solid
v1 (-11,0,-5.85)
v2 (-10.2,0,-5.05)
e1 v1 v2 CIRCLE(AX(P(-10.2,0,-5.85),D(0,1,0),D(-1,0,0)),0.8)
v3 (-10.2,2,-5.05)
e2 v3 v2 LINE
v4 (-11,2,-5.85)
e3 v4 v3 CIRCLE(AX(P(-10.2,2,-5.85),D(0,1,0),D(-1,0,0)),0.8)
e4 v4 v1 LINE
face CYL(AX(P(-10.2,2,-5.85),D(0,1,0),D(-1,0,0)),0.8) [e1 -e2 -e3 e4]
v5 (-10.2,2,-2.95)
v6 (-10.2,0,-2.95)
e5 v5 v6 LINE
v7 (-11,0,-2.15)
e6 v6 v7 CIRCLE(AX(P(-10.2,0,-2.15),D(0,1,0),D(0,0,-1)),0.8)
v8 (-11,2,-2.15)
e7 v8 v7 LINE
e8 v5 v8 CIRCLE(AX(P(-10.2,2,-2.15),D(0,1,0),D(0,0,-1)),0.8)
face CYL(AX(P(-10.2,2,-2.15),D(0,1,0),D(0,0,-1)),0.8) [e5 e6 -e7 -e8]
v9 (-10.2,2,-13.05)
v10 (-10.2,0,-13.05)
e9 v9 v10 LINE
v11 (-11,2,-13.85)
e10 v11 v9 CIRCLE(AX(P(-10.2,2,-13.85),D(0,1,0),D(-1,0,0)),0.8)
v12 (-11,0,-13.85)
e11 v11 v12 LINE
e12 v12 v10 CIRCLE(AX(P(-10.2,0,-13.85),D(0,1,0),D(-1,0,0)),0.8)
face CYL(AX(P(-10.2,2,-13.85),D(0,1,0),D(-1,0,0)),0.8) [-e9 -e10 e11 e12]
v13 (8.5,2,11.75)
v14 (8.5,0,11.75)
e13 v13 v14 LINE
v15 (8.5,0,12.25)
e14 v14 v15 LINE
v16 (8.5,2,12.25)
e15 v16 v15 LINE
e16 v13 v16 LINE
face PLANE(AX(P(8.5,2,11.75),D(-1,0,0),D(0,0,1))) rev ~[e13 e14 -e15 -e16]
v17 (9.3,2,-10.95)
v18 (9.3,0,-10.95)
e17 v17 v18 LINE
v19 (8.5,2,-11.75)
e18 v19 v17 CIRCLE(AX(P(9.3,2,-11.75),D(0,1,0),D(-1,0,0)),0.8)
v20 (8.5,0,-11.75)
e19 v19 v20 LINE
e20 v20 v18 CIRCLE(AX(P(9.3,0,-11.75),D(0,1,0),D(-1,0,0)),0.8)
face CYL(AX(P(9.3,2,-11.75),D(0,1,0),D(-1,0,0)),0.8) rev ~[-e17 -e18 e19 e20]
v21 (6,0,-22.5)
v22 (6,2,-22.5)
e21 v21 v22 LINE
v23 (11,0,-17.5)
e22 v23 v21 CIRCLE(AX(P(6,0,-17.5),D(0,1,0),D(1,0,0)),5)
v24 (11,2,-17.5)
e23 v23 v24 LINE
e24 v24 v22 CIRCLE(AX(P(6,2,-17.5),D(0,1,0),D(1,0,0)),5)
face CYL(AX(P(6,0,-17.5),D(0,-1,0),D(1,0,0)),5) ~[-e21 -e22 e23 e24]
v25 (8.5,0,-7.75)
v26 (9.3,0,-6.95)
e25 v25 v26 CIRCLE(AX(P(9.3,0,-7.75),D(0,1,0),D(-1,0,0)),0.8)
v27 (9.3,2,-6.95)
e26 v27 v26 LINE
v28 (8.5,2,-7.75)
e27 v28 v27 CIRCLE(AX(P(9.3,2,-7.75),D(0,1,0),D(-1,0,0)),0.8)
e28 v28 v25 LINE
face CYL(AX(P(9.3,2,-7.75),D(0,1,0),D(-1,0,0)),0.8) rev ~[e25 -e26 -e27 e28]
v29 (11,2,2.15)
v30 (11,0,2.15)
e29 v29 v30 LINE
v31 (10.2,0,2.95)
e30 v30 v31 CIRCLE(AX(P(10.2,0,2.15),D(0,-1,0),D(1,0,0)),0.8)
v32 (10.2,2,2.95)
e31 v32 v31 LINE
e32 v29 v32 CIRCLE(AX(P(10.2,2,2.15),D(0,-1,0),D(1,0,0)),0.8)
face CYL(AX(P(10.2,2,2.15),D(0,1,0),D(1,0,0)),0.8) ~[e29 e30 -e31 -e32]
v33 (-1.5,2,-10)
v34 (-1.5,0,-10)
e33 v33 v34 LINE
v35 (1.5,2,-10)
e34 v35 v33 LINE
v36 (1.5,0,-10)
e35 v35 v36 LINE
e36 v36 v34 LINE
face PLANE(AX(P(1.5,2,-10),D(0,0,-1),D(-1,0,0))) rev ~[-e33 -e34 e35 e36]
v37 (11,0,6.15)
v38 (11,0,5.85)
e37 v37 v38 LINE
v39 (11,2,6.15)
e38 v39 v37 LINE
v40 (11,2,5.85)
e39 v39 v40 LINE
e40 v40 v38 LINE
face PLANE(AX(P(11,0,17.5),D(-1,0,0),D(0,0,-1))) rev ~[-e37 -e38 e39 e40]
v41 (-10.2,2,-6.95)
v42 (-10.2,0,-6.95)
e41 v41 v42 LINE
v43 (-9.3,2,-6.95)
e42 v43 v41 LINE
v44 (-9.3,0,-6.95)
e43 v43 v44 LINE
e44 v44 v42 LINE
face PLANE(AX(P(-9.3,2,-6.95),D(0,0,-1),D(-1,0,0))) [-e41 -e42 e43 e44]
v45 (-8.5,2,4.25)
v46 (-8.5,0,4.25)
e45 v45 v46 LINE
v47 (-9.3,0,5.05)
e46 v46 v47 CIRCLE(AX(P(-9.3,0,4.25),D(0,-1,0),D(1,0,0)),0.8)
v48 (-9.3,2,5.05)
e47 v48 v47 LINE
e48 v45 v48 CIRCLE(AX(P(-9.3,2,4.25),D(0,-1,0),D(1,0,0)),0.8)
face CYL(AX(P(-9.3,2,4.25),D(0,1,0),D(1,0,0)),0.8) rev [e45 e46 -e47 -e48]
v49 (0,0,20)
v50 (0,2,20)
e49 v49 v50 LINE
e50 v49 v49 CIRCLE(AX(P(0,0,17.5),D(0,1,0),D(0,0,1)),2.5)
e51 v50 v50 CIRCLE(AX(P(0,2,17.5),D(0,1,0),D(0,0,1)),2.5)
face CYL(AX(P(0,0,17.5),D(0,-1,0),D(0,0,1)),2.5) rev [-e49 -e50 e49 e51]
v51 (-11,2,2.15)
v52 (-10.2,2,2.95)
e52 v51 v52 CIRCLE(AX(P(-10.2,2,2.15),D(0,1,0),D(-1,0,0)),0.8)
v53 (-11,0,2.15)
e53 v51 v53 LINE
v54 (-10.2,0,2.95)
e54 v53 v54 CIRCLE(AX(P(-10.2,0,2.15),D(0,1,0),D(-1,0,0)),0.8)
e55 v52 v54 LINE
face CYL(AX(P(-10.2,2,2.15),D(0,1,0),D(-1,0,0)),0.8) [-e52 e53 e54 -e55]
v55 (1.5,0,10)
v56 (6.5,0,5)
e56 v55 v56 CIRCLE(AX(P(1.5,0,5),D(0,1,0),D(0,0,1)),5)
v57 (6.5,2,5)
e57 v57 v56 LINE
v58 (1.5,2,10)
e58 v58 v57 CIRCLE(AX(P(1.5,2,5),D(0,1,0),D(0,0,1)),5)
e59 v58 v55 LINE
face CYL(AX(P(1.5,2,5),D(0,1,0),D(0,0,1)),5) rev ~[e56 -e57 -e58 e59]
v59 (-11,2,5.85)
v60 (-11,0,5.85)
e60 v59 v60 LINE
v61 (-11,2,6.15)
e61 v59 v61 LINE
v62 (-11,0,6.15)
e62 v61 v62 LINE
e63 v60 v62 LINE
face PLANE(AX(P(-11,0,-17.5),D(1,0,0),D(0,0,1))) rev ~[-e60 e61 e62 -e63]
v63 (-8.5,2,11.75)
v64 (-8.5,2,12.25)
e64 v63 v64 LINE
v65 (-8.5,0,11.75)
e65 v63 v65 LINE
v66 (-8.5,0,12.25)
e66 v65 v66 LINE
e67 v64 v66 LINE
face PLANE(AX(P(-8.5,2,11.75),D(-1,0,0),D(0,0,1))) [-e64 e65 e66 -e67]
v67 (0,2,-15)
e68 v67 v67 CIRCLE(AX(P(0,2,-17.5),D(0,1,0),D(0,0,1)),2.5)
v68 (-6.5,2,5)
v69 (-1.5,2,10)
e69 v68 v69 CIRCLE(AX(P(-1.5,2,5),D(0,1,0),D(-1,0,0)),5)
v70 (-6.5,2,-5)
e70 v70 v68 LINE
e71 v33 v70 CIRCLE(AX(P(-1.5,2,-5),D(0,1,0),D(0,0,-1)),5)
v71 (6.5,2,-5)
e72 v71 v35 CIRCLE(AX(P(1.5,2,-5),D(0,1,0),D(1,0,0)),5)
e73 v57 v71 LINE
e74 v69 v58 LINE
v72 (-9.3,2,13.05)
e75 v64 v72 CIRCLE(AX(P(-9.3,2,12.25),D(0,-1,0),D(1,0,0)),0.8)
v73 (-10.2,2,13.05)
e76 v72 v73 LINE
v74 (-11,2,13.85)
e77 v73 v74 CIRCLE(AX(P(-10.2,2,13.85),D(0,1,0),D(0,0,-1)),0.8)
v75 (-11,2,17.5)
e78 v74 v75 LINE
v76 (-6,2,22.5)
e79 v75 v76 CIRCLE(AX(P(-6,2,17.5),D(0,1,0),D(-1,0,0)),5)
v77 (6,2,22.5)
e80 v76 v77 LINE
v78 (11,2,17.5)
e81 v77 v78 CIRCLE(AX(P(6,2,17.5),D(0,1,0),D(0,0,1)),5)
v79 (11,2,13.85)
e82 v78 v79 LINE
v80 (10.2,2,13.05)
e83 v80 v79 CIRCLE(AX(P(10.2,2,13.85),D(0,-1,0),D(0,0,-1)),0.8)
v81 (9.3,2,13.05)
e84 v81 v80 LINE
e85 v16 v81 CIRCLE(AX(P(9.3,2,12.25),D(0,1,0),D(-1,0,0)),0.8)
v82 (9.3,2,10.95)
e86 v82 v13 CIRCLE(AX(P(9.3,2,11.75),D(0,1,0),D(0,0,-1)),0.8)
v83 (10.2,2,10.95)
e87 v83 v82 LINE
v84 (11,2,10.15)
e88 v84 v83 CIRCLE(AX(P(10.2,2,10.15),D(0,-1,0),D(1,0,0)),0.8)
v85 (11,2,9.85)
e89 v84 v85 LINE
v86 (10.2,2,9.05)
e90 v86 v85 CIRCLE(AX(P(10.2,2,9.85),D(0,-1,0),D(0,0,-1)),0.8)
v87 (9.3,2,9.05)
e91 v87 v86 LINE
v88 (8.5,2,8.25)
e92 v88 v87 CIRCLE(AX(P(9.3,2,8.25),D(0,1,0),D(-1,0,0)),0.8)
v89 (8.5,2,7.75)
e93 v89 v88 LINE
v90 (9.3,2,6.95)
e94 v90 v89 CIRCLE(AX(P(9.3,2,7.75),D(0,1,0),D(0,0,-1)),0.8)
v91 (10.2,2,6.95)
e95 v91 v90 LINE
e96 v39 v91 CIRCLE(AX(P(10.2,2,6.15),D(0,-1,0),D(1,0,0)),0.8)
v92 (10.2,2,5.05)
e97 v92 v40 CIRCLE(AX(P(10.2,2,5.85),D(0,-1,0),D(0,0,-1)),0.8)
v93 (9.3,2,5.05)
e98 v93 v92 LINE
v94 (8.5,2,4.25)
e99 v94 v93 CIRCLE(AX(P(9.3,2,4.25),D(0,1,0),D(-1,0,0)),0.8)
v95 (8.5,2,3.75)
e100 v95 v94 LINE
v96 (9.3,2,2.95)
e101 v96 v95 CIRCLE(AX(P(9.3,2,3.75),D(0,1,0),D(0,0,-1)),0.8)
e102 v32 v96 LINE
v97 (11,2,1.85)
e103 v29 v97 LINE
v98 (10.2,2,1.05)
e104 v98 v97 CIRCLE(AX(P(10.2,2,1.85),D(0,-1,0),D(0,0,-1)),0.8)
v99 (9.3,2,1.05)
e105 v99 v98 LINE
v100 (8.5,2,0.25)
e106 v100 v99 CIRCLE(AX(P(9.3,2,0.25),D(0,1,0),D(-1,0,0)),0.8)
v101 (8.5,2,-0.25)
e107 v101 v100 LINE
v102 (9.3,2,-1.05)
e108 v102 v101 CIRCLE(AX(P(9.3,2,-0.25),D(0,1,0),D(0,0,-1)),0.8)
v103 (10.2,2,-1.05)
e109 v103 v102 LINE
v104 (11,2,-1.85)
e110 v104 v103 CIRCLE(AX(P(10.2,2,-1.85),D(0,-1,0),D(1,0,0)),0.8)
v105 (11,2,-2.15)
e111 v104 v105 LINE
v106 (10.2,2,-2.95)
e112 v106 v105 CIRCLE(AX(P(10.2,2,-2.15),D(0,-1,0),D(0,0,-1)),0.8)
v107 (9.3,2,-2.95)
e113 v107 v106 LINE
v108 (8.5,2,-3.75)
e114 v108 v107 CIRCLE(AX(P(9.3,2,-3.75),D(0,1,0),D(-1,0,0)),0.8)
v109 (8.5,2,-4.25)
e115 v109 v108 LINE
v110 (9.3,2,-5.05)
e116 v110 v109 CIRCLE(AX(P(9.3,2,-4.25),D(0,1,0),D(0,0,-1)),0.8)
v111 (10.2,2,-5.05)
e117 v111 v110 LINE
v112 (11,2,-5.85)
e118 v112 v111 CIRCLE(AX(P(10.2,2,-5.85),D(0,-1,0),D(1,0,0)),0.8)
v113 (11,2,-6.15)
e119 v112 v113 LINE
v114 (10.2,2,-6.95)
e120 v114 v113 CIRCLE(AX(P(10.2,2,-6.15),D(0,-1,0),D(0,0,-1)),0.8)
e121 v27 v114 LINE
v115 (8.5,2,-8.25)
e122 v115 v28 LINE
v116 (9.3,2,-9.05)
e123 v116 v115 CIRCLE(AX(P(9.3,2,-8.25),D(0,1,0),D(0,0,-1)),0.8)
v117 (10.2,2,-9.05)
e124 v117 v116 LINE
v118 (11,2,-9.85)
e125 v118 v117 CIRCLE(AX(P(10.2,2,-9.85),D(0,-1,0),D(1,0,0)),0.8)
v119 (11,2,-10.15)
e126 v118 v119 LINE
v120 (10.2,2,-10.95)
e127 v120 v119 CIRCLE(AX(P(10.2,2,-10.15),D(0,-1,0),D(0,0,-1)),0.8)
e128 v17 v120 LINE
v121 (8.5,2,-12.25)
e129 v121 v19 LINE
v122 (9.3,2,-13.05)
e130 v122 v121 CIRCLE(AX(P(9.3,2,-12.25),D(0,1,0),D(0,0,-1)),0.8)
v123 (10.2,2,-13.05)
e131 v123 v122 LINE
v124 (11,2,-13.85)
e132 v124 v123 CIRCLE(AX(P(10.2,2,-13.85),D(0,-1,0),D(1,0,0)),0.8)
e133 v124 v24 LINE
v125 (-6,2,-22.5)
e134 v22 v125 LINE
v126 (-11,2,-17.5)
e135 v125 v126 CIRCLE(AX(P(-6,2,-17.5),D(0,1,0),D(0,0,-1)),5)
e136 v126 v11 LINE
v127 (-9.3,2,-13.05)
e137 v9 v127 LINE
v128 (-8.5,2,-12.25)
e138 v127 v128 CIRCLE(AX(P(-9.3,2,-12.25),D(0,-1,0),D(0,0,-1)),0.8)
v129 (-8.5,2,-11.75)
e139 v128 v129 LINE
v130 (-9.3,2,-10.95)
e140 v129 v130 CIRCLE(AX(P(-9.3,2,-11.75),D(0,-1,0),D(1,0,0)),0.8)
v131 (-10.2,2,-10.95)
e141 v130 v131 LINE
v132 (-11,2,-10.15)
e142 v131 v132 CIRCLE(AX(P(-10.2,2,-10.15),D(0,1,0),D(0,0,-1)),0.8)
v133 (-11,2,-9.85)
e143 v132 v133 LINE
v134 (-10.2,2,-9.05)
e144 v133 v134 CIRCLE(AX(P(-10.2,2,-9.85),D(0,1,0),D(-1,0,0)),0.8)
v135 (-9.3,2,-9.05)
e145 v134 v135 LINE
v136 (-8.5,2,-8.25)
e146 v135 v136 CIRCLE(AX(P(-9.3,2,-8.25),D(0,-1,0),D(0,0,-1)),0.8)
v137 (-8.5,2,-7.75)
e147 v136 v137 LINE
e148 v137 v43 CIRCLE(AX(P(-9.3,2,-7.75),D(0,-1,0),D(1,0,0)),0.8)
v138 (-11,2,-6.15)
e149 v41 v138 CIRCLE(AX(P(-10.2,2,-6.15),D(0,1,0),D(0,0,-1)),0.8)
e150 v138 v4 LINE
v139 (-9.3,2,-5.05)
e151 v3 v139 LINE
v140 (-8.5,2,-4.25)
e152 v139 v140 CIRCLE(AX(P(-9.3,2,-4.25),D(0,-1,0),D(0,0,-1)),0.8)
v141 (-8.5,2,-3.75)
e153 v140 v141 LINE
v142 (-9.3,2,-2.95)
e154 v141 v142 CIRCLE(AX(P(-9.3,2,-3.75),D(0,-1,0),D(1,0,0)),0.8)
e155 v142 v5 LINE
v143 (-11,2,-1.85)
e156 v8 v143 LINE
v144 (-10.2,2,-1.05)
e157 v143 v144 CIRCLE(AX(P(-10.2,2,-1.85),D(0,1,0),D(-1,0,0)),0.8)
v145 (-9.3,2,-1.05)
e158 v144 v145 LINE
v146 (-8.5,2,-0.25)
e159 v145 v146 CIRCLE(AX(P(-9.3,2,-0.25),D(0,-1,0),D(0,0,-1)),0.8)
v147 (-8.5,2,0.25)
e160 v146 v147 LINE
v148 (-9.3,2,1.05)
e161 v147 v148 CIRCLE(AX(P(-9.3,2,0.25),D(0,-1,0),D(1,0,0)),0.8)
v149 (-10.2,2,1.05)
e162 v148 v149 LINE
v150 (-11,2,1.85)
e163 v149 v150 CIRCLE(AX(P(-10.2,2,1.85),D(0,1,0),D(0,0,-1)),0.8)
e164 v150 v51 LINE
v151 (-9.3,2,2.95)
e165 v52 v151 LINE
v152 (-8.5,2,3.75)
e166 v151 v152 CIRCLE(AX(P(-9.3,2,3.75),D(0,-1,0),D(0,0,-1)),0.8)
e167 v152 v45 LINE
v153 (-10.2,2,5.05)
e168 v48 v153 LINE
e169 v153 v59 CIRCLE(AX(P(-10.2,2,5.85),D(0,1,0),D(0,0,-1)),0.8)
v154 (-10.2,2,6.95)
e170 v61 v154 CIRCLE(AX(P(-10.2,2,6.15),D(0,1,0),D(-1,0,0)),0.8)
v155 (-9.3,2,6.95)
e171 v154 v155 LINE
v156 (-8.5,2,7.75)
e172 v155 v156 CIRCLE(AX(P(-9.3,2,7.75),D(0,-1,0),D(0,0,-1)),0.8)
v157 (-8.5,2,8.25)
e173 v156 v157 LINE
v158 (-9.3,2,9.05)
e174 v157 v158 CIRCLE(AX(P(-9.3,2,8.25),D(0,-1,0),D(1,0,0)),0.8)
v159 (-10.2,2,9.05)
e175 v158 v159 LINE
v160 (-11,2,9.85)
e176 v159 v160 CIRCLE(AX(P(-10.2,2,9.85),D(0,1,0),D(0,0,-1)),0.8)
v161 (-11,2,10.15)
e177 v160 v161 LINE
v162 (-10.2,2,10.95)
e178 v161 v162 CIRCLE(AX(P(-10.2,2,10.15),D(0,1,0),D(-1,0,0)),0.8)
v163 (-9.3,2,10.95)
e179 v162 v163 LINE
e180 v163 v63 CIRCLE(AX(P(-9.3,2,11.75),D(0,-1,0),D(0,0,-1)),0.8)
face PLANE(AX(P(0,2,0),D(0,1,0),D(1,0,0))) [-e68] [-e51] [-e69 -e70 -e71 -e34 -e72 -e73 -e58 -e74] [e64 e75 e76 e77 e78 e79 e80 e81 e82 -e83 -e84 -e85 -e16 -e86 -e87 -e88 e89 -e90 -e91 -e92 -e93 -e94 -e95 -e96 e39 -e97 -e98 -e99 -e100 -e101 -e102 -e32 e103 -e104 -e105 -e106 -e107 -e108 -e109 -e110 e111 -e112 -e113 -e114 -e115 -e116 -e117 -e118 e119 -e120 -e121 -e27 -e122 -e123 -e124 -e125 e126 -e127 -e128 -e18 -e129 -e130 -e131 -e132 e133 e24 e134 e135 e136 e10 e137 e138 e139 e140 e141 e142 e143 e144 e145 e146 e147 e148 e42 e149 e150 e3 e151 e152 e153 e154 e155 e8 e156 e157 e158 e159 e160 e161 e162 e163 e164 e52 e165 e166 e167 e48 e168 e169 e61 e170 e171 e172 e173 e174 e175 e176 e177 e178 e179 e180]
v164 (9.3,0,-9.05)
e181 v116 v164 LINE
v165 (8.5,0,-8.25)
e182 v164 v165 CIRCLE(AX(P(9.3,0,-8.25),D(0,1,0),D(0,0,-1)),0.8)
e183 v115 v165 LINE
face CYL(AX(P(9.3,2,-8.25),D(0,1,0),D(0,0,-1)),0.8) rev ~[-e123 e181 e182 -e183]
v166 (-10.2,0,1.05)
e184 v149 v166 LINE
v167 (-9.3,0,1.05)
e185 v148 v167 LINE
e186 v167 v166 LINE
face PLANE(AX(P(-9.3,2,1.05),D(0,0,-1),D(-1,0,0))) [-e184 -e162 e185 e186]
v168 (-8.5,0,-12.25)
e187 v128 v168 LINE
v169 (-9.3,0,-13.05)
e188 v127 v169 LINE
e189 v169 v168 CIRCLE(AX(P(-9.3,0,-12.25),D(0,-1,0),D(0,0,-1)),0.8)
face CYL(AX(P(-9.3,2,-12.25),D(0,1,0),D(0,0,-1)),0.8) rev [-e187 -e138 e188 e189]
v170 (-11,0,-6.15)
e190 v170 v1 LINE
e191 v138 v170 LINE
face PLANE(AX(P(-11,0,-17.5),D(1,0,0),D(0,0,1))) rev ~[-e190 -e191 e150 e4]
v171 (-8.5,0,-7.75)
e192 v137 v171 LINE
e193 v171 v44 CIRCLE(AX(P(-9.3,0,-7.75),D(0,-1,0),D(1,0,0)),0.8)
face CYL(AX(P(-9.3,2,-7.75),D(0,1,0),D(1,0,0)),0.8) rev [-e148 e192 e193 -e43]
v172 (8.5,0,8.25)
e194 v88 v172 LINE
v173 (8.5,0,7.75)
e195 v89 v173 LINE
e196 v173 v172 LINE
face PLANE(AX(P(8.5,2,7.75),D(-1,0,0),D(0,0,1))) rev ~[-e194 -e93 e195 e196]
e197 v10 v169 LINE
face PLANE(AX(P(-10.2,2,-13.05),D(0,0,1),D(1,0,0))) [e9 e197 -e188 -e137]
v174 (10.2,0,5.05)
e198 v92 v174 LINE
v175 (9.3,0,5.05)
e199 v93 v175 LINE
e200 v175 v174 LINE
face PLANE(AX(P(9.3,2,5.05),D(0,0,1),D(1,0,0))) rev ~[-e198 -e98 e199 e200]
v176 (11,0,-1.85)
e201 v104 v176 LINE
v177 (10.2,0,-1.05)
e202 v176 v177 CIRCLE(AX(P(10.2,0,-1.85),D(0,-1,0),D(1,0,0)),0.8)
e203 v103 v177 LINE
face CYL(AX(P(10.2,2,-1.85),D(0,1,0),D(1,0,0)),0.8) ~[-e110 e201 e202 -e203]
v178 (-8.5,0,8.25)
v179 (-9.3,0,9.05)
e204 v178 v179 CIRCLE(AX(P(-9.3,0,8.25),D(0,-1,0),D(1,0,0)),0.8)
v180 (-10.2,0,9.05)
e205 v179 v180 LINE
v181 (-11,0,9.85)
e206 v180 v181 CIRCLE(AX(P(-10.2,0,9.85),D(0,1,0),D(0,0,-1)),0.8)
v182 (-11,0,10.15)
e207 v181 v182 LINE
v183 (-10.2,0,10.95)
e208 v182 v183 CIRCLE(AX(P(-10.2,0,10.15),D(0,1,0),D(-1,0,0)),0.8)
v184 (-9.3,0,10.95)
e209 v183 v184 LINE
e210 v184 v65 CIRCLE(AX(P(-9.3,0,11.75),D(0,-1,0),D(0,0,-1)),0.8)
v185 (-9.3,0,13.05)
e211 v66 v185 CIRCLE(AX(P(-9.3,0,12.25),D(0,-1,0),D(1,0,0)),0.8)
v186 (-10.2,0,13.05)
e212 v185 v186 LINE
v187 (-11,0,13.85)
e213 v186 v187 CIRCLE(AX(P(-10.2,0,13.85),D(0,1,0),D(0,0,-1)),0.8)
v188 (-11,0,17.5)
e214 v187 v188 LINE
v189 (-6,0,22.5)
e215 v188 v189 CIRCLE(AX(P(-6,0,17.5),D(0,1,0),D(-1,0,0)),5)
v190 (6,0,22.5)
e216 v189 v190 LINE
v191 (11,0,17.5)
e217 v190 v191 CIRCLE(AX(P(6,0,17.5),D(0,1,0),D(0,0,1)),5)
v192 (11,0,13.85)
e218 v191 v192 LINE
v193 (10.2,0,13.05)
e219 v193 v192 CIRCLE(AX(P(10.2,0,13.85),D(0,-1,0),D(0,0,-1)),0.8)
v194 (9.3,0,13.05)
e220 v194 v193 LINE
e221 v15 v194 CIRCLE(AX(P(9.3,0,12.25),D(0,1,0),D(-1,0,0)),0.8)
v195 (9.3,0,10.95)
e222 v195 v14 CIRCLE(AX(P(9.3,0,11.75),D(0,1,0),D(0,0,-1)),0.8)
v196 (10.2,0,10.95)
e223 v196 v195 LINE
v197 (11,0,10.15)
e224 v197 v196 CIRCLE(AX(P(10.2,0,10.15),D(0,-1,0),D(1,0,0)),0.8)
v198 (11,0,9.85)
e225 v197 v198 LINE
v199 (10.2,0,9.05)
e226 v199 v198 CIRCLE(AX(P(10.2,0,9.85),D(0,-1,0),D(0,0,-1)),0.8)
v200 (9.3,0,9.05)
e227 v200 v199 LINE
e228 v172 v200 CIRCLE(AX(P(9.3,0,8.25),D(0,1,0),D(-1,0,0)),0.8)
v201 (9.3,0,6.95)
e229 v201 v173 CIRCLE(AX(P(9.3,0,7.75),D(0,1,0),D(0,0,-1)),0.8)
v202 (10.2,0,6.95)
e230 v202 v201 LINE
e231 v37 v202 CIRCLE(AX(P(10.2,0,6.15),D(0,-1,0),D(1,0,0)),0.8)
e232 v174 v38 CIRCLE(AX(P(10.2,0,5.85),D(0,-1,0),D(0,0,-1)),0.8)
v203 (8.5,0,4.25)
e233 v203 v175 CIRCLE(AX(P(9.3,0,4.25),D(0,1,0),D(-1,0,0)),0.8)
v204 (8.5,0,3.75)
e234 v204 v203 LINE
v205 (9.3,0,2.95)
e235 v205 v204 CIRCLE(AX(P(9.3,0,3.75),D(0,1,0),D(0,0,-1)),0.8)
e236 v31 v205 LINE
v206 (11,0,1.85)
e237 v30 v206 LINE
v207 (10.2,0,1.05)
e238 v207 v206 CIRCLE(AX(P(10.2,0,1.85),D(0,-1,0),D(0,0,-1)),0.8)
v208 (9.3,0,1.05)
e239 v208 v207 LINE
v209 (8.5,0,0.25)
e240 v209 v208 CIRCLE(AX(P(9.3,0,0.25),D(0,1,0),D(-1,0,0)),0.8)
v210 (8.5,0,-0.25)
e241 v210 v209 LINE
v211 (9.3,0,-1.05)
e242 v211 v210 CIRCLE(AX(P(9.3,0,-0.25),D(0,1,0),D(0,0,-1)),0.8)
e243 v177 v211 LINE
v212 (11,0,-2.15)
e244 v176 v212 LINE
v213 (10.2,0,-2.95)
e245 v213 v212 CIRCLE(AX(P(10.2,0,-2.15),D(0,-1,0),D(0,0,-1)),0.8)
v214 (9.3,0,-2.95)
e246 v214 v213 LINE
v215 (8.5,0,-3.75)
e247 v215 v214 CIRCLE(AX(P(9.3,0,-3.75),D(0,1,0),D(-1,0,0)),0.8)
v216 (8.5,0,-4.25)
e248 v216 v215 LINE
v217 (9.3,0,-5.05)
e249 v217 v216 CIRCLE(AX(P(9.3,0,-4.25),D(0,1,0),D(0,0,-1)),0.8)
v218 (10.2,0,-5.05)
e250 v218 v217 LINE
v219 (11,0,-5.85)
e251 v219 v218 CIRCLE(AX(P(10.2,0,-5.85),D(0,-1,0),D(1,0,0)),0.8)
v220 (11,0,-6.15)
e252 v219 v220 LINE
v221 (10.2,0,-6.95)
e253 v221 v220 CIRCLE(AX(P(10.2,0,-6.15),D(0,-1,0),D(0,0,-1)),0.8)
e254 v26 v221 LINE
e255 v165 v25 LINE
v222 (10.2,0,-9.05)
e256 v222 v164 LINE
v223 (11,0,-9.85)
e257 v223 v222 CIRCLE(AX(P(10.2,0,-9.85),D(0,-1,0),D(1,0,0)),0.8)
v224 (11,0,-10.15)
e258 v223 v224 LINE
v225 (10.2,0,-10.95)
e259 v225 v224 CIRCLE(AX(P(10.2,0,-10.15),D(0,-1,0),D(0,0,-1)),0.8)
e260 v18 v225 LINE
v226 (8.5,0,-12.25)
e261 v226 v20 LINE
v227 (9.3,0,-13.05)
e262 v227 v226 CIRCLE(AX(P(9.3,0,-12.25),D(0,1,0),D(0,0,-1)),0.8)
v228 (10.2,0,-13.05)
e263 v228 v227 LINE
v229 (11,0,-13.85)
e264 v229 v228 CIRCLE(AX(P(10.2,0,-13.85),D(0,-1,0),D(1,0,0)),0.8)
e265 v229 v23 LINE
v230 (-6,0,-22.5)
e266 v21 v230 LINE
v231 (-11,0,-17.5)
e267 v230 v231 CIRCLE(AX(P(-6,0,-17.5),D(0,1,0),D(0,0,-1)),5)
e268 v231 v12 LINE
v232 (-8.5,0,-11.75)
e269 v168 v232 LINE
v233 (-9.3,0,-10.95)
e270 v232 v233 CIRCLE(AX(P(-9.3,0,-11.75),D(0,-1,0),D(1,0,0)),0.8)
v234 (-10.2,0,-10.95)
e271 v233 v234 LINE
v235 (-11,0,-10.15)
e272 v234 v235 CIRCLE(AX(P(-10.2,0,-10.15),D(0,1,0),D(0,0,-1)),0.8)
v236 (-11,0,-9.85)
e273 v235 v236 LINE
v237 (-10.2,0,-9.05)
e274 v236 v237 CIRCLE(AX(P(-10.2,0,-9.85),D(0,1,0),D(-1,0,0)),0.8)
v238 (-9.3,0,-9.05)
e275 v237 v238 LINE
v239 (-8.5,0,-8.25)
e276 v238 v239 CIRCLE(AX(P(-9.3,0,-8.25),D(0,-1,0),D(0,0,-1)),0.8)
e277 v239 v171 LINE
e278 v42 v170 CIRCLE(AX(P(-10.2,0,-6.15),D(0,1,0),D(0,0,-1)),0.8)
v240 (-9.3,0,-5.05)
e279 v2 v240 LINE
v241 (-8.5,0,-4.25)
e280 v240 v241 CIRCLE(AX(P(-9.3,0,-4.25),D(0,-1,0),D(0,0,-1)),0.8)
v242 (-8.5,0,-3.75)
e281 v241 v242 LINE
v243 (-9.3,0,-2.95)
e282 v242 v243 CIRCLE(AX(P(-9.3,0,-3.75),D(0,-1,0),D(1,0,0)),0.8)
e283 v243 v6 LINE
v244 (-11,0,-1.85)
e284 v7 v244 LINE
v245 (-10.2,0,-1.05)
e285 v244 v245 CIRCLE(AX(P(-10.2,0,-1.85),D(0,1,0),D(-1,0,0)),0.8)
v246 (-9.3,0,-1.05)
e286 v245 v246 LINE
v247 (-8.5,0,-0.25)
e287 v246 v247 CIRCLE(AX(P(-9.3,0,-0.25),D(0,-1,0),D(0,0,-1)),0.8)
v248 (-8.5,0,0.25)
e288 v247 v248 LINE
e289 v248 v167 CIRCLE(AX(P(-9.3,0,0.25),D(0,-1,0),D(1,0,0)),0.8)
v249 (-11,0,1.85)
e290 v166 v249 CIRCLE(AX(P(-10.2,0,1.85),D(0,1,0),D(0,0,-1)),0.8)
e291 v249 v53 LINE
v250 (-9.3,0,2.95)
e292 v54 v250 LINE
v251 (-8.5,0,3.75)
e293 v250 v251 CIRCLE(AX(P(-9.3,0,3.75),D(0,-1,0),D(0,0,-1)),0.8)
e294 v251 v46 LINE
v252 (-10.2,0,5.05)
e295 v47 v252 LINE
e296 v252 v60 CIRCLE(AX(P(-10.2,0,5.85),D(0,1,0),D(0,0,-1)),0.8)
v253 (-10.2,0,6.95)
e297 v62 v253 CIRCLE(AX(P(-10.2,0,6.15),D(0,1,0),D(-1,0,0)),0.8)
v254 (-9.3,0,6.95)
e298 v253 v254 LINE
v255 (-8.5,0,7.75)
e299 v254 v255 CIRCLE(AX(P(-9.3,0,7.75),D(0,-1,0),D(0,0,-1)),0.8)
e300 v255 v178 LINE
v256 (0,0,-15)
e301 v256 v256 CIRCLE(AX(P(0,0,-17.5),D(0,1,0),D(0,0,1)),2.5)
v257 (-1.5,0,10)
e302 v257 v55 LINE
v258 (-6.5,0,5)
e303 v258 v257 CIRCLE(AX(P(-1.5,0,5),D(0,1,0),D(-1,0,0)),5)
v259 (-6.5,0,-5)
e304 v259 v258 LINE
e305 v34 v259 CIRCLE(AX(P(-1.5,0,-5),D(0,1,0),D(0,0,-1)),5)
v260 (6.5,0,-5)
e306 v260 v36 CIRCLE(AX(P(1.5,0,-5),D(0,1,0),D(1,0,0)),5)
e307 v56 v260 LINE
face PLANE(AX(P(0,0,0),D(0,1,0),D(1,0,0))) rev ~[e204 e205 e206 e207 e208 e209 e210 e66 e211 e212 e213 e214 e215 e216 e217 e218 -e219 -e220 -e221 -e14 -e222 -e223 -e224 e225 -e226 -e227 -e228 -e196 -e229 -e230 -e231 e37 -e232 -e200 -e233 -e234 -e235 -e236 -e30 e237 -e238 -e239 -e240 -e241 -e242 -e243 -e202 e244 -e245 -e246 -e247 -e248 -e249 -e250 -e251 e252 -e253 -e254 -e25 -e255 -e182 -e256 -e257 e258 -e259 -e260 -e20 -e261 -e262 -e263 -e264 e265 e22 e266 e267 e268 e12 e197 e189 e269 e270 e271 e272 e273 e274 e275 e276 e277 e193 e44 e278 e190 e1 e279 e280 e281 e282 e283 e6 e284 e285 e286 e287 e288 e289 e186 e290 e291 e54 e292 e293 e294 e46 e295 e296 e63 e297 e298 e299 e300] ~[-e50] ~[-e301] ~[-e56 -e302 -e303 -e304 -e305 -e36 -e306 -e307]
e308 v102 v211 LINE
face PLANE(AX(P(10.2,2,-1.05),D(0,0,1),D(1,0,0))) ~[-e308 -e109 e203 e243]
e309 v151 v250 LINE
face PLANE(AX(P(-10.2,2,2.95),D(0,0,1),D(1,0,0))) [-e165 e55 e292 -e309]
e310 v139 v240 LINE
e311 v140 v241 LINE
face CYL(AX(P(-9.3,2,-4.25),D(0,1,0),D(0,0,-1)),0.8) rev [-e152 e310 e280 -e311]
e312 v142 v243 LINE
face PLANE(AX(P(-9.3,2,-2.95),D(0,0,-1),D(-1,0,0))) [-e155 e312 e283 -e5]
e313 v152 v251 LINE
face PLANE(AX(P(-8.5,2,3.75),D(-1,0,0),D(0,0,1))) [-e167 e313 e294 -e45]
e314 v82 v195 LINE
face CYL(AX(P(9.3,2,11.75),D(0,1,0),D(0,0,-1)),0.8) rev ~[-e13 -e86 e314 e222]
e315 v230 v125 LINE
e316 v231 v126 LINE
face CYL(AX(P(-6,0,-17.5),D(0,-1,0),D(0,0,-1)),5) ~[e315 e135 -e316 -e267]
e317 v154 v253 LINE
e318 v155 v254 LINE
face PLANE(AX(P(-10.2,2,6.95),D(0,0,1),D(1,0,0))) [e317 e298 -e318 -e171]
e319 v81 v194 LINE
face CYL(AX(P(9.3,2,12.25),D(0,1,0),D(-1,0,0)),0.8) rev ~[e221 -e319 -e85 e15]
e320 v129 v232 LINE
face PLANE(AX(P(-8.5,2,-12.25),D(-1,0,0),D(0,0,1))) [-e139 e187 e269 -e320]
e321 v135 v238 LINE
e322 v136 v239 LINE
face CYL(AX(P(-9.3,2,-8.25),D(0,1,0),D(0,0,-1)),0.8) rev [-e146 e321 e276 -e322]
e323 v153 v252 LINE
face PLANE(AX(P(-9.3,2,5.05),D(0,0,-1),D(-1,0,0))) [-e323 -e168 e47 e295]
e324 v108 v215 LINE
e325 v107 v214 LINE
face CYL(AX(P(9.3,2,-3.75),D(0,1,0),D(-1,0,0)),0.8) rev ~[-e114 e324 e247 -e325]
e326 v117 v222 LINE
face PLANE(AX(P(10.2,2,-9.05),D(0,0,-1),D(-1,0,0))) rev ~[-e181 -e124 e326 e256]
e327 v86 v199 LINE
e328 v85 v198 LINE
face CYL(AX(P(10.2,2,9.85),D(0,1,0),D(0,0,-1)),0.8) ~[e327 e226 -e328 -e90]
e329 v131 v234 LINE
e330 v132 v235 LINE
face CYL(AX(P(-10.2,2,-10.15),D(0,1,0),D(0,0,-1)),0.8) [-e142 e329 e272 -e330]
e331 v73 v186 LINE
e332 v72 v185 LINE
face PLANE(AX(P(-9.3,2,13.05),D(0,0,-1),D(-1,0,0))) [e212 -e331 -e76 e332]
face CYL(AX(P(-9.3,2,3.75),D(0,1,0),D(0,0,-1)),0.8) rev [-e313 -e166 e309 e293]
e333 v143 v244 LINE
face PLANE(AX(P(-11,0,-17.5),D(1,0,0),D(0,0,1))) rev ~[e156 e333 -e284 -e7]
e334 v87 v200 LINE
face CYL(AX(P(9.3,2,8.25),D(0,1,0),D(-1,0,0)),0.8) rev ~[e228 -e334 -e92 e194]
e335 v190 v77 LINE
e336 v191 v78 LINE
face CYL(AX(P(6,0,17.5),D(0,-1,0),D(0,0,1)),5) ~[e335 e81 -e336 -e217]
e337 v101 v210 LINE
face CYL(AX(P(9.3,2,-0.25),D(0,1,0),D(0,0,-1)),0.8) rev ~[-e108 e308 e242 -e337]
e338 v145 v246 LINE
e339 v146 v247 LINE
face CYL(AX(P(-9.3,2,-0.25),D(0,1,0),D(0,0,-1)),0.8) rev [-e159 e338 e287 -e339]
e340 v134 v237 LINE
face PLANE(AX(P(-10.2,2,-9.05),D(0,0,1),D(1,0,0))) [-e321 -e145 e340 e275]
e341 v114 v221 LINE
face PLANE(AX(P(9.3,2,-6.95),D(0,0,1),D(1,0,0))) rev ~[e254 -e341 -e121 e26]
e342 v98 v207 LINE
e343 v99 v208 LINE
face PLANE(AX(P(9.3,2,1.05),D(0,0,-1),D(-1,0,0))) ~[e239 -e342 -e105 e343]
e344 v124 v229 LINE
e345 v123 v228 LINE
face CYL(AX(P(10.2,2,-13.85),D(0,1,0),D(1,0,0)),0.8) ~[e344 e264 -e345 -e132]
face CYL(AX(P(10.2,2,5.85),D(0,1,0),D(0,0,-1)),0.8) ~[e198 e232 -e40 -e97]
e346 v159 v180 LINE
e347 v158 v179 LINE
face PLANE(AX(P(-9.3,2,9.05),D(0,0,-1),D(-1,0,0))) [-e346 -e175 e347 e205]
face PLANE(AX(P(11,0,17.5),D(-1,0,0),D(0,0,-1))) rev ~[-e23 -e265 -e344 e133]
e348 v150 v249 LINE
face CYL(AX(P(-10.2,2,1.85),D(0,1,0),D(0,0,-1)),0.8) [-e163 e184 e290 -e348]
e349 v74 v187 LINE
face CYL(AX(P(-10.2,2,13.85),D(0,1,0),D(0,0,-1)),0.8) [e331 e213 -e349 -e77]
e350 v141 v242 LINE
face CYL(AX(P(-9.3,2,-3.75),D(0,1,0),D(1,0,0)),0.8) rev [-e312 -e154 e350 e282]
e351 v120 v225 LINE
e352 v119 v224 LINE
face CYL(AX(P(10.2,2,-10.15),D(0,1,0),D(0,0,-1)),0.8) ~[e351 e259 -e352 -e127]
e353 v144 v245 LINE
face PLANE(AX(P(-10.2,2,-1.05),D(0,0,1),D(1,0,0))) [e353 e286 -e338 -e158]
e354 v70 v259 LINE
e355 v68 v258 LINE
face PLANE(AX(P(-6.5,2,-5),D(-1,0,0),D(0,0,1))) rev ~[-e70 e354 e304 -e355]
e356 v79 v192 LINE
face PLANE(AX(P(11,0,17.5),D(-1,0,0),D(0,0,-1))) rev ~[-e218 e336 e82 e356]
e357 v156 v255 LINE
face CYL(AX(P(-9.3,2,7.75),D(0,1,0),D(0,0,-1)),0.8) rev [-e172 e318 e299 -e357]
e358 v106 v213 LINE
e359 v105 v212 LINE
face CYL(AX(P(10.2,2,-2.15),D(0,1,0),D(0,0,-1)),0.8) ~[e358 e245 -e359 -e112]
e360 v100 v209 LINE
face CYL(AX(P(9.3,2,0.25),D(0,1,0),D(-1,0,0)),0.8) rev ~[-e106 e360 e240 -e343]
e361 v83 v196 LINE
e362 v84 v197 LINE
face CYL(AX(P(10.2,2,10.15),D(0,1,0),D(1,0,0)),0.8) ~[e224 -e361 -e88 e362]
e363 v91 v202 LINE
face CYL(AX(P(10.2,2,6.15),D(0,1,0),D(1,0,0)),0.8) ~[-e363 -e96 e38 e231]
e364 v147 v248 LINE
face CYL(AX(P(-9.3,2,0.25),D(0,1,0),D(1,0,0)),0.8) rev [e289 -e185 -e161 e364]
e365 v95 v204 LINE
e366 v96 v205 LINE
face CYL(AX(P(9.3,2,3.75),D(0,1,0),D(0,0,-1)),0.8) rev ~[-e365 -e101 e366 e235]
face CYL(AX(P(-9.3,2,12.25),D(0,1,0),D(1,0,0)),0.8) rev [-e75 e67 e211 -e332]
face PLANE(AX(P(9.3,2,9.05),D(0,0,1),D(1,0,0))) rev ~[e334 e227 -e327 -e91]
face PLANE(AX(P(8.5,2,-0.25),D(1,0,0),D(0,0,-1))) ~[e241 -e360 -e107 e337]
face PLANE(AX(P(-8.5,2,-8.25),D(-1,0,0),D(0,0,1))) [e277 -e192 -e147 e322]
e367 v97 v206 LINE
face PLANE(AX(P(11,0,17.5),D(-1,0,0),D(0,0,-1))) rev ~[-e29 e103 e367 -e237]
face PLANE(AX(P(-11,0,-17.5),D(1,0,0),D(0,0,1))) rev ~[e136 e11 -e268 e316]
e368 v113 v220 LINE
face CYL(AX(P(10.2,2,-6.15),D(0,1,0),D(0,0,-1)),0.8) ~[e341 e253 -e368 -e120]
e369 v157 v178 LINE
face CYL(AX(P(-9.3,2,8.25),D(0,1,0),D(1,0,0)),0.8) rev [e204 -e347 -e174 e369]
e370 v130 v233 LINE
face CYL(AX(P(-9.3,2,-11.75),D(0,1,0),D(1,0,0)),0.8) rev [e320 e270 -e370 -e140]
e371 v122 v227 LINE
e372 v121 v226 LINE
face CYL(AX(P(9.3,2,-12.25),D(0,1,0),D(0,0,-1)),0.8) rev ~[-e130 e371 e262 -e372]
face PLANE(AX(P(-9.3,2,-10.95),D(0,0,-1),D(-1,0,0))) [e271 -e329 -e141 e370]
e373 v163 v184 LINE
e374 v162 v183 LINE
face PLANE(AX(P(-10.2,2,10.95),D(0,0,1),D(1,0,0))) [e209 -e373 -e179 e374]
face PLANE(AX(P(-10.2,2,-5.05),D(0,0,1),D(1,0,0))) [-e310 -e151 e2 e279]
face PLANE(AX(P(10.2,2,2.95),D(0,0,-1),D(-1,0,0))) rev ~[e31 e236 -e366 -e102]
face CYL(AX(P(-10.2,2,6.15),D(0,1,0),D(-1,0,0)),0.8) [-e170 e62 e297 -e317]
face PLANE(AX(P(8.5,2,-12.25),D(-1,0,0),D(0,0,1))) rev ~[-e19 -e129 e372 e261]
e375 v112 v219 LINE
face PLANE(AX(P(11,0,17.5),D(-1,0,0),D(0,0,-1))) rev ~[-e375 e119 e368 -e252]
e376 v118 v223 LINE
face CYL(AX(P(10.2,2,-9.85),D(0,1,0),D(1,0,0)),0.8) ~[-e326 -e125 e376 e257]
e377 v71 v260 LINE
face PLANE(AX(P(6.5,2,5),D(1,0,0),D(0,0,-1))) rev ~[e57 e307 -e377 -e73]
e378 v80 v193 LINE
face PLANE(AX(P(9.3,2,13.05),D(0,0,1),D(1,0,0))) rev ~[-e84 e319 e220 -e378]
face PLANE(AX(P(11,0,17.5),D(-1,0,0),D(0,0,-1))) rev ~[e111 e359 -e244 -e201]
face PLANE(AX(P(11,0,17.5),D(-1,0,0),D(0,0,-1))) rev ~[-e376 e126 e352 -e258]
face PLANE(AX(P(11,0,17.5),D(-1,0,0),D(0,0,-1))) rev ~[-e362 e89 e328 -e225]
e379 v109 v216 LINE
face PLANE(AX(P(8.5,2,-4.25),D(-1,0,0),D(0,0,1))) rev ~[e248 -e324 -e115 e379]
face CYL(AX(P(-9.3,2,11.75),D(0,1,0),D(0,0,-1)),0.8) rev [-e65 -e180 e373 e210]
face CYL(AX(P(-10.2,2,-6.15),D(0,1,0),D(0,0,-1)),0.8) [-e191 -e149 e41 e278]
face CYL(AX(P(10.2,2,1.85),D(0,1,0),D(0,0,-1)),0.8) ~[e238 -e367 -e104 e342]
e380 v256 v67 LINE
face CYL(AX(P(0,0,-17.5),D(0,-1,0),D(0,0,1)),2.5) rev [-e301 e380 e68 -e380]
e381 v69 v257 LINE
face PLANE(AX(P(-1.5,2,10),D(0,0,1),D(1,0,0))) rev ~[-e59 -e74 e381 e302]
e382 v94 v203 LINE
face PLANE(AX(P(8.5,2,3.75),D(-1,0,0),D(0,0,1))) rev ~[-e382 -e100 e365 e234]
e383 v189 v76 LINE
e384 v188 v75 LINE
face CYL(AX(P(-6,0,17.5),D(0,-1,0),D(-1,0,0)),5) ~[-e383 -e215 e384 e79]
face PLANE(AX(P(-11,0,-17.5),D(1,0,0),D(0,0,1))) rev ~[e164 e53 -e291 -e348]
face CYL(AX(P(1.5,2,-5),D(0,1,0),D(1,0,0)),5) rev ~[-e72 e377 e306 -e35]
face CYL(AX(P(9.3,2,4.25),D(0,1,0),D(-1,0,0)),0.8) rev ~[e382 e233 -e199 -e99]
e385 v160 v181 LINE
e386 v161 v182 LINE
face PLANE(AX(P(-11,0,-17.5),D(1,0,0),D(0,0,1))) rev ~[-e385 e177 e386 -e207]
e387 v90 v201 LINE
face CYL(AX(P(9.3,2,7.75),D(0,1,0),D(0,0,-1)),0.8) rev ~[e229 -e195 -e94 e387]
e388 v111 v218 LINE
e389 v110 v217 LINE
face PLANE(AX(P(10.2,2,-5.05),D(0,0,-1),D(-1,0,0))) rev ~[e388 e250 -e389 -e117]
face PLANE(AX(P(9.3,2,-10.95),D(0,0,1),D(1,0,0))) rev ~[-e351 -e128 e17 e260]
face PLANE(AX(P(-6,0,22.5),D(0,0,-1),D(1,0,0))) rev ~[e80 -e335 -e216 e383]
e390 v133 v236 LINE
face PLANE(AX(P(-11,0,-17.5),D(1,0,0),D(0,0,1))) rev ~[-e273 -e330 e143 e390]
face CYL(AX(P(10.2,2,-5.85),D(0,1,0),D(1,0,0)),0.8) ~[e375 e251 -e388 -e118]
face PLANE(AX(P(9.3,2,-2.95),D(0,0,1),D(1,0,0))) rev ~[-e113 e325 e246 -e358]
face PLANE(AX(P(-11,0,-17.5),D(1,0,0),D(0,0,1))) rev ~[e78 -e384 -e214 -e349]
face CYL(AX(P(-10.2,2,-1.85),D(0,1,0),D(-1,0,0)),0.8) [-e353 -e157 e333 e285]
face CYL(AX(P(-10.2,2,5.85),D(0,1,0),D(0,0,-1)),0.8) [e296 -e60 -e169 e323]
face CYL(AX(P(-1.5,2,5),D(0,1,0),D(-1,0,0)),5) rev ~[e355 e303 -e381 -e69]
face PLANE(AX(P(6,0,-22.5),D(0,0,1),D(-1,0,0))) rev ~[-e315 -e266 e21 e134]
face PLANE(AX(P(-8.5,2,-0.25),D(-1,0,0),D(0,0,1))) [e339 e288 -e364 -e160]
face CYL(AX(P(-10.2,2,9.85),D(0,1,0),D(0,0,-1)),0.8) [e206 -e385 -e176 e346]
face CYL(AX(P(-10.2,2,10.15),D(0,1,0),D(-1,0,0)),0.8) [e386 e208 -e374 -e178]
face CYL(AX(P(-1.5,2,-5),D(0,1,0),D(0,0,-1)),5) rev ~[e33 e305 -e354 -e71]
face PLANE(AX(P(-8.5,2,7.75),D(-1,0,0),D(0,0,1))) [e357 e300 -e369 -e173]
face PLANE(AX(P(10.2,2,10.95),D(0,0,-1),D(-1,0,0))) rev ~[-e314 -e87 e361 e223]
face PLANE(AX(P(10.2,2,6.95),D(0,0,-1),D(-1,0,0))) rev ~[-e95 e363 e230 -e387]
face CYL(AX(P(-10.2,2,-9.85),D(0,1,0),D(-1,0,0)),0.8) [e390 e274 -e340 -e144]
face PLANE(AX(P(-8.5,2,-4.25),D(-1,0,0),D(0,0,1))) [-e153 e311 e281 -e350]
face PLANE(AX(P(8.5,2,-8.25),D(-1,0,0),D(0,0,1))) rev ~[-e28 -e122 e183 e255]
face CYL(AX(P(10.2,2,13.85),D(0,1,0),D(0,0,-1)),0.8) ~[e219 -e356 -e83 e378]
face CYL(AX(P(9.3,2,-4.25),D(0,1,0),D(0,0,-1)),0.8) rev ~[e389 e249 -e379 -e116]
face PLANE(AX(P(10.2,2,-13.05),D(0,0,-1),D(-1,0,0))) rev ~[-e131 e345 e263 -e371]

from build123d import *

# Parameters (mm, degrees)
SKETCH1_R            = 2.5
BOSS_EXTRUDE1_DEPTH  = 2
CUT_EXTRUDE1_DEPTH   = 2
LPATTERN2_COUNT      = 4
LPATTERN2_PITCH      = 4
LPATTERN2_COL_COUNT  = 4
LPATTERN2_COL_PITCH  = 4
MIRROR2_COPY_1_DEPTH = 2
MIRROR2_COPY_2_DEPTH = 2
MIRROR2_COPY_3_DEPTH = 2
MIRROR2_COPY_4_DEPTH = 2
MIRROR2_COPY_5_DEPTH = 2
MIRROR2_COPY_6_DEPTH = 2
CUT_EXTRUDE3_DEPTH   = 2


with BuildPart() as part:
    # Sketch1 → Boss-Extrude1 (new body)
    with BuildSketch(Plane(origin=(0, 0, 0), x_dir=(1, 0, 0), z_dir=(0, 1, 0))):
        with BuildLine():
            Line((-6, -22.5), (6, -22.5))
            ThreePointArc((6, -22.5), (9.535533906, -21.035533906), (11, -17.5))
            Line((11, -17.5), (11, 17.5))
            ThreePointArc((11, 17.5), (9.535533906, 21.035533906), (6, 22.5))
            Line((6, 22.5), (-6, 22.5))
            ThreePointArc((-6, 22.5), (-9.535533906, 21.035533906), (-11, 17.5))
            Line((-11, 17.5), (-11, -17.5))
            ThreePointArc((-11, -17.5), (-9.535533906, -21.035533906), (-6, -22.5))
        make_face()
        with Locations(Location((0, 17.5, 0), (0, 0, 270))):
            Circle(SKETCH1_R, mode=Mode.SUBTRACT)
        with Locations(Location((0, -17.5, 0), (0, 0, 270))):
            Circle(SKETCH1_R, mode=Mode.SUBTRACT)
    extrude(amount=BOSS_EXTRUDE1_DEPTH)

    # Sketch2 → Cut-Extrude1 (cut)
    with BuildSketch(Plane(origin=(0, 2, 0), x_dir=(1, 0, 0), z_dir=(0, 1, 0))):
        with BuildLine():
            Line((-11, -1.85), (-11, 1.85))
            ThreePointArc((-11, 1.85), (-10.765685425, 1.284314575), (-10.2, 1.05))
            Line((-10.2, 1.05), (-9.3, 1.05))
            ThreePointArc((-9.3, 1.05), (-8.734314575, 0.815685425), (-8.5, 0.25))
            Line((-8.5, 0.25), (-8.5, -0.25))
            ThreePointArc((-8.5, -0.25), (-8.734314575, -0.815685425), (-9.3, -1.05))
            Line((-9.3, -1.05), (-10.2, -1.05))
            ThreePointArc((-10.2, -1.05), (-10.765685425, -1.284314575), (-11, -1.85))
        make_face()
    cut_extrude1 = extrude(amount=-CUT_EXTRUDE1_DEPTH, mode=Mode.SUBTRACT)

    # LPattern2: Cut-Extrude1 ×4
    with Locations(*[(0, 0, i * LPATTERN2_PITCH) for i in range(1, LPATTERN2_COUNT)]):
        add(cut_extrude1, mode=Mode.SUBTRACT)

    # LPattern2 col: Cut-Extrude1 ×4
    with Locations(*[(0, 0, -i * LPATTERN2_COL_PITCH) for i in range(1, LPATTERN2_COL_COUNT)]):
        add(cut_extrude1, mode=Mode.SUBTRACT)

    # Mirror2: Cut-Extrude1 across plane
    add(cut_extrude1.mirror(Plane(origin=(0, 0, 0), x_dir=(0, 0, 1), z_dir=(1, 0, 0))), mode=Mode.SUBTRACT)

    # Mirror2 copy 1 sketch → Mirror2 copy 1 (cut)
    with BuildSketch(Plane(origin=(0, 2, 4), x_dir=(-1, 0, 0), z_dir=(0, 1, 0))):
        with BuildLine():
            Line((-11, 1.85), (-11, -1.85))
            ThreePointArc((-11, -1.85), (-10.765685425, -1.284314575), (-10.2, -1.05))
            Line((-10.2, -1.05), (-9.3, -1.05))
            ThreePointArc((-9.3, -1.05), (-8.734314575, -0.815685425), (-8.5, -0.25))
            Line((-8.5, -0.25), (-8.5, 0.25))
            ThreePointArc((-8.5, 0.25), (-8.734314575, 0.815685425), (-9.3, 1.05))
            Line((-9.3, 1.05), (-10.2, 1.05))
            ThreePointArc((-10.2, 1.05), (-10.765685425, 1.284314575), (-11, 1.85))
        make_face()
    extrude(amount=-MIRROR2_COPY_1_DEPTH, mode=Mode.SUBTRACT)

    # Mirror2 copy 2 sketch → Mirror2 copy 2 (cut)
    with BuildSketch(Plane(origin=(0, 2, 8), x_dir=(-1, 0, 0), z_dir=(0, 1, 0))):
        with BuildLine():
            Line((-11, 1.85), (-11, -1.85))
            ThreePointArc((-11, -1.85), (-10.765685425, -1.284314575), (-10.2, -1.05))
            Line((-10.2, -1.05), (-9.3, -1.05))
            ThreePointArc((-9.3, -1.05), (-8.734314575, -0.815685425), (-8.5, -0.25))
            Line((-8.5, -0.25), (-8.5, 0.25))
            ThreePointArc((-8.5, 0.25), (-8.734314575, 0.815685425), (-9.3, 1.05))
            Line((-9.3, 1.05), (-10.2, 1.05))
            ThreePointArc((-10.2, 1.05), (-10.765685425, 1.284314575), (-11, 1.85))
        make_face()
    extrude(amount=-MIRROR2_COPY_2_DEPTH, mode=Mode.SUBTRACT)

    # Mirror2 copy 3 sketch → Mirror2 copy 3 (cut)
    with BuildSketch(Plane(origin=(0, 2, 12), x_dir=(-1, 0, 0), z_dir=(0, 1, 0))):
        with BuildLine():
            Line((-11, 1.85), (-11, -1.85))
            ThreePointArc((-11, -1.85), (-10.765685425, -1.284314575), (-10.2, -1.05))
            Line((-10.2, -1.05), (-9.3, -1.05))
            ThreePointArc((-9.3, -1.05), (-8.734314575, -0.815685425), (-8.5, -0.25))
            Line((-8.5, -0.25), (-8.5, 0.25))
            ThreePointArc((-8.5, 0.25), (-8.734314575, 0.815685425), (-9.3, 1.05))
            Line((-9.3, 1.05), (-10.2, 1.05))
            ThreePointArc((-10.2, 1.05), (-10.765685425, 1.284314575), (-11, 1.85))
        make_face()
    extrude(amount=-MIRROR2_COPY_3_DEPTH, mode=Mode.SUBTRACT)

    # Mirror2 copy 4 sketch → Mirror2 copy 4 (cut)
    with BuildSketch(Plane(origin=(0, 2, -4), x_dir=(-1, 0, 0), z_dir=(0, 1, 0))):
        with BuildLine():
            Line((-11, 1.85), (-11, -1.85))
            ThreePointArc((-11, -1.85), (-10.765685425, -1.284314575), (-10.2, -1.05))
            Line((-10.2, -1.05), (-9.3, -1.05))
            ThreePointArc((-9.3, -1.05), (-8.734314575, -0.815685425), (-8.5, -0.25))
            Line((-8.5, -0.25), (-8.5, 0.25))
            ThreePointArc((-8.5, 0.25), (-8.734314575, 0.815685425), (-9.3, 1.05))
            Line((-9.3, 1.05), (-10.2, 1.05))
            ThreePointArc((-10.2, 1.05), (-10.765685425, 1.284314575), (-11, 1.85))
        make_face()
    extrude(amount=-MIRROR2_COPY_4_DEPTH, mode=Mode.SUBTRACT)

    # Mirror2 copy 5 sketch → Mirror2 copy 5 (cut)
    with BuildSketch(Plane(origin=(0, 2, -8), x_dir=(-1, 0, 0), z_dir=(0, 1, 0))):
        with BuildLine():
            Line((-11, 1.85), (-11, -1.85))
            ThreePointArc((-11, -1.85), (-10.765685425, -1.284314575), (-10.2, -1.05))
            Line((-10.2, -1.05), (-9.3, -1.05))
            ThreePointArc((-9.3, -1.05), (-8.734314575, -0.815685425), (-8.5, -0.25))
            Line((-8.5, -0.25), (-8.5, 0.25))
            ThreePointArc((-8.5, 0.25), (-8.734314575, 0.815685425), (-9.3, 1.05))
            Line((-9.3, 1.05), (-10.2, 1.05))
            ThreePointArc((-10.2, 1.05), (-10.765685425, 1.284314575), (-11, 1.85))
        make_face()
    extrude(amount=-MIRROR2_COPY_5_DEPTH, mode=Mode.SUBTRACT)

    # Mirror2 copy 6 sketch → Mirror2 copy 6 (cut)
    with BuildSketch(Plane(origin=(0, 2, -12), x_dir=(-1, 0, 0), z_dir=(0, 1, 0))):
        with BuildLine():
            Line((-11, 1.85), (-11, -1.85))
            ThreePointArc((-11, -1.85), (-10.765685425, -1.284314575), (-10.2, -1.05))
            Line((-10.2, -1.05), (-9.3, -1.05))
            ThreePointArc((-9.3, -1.05), (-8.734314575, -0.815685425), (-8.5, -0.25))
            Line((-8.5, -0.25), (-8.5, 0.25))
            ThreePointArc((-8.5, 0.25), (-8.734314575, 0.815685425), (-9.3, 1.05))
            Line((-9.3, 1.05), (-10.2, 1.05))
            ThreePointArc((-10.2, 1.05), (-10.765685425, 1.284314575), (-11, 1.85))
        make_face()
    extrude(amount=-MIRROR2_COPY_6_DEPTH, mode=Mode.SUBTRACT)

    # Sketch4 → Cut-Extrude3 (cut)
    with BuildSketch(Plane(origin=(0, 2, 0), x_dir=(1, 0, 0), z_dir=(0, 1, 0))):
        with BuildLine():
            Line((-1.5, -10), (1.5, -10))
            ThreePointArc((1.5, -10), (5.035533906, -8.535533906), (6.5, -5))
            Line((6.5, -5), (6.5, 5))
            ThreePointArc((6.5, 5), (5.035533906, 8.535533906), (1.5, 10))
            Line((1.5, 10), (-1.5, 10))
            ThreePointArc((-1.5, 10), (-5.035533906, 8.535533906), (-6.5, 5))
            Line((-6.5, 5), (-6.5, -5))
            ThreePointArc((-6.5, -5), (-5.035533906, -8.535533906), (-1.5, -10))
        make_face()
    extrude(amount=-CUT_EXTRUDE3_DEPTH, mode=Mode.SUBTRACT)


solid = part.part
